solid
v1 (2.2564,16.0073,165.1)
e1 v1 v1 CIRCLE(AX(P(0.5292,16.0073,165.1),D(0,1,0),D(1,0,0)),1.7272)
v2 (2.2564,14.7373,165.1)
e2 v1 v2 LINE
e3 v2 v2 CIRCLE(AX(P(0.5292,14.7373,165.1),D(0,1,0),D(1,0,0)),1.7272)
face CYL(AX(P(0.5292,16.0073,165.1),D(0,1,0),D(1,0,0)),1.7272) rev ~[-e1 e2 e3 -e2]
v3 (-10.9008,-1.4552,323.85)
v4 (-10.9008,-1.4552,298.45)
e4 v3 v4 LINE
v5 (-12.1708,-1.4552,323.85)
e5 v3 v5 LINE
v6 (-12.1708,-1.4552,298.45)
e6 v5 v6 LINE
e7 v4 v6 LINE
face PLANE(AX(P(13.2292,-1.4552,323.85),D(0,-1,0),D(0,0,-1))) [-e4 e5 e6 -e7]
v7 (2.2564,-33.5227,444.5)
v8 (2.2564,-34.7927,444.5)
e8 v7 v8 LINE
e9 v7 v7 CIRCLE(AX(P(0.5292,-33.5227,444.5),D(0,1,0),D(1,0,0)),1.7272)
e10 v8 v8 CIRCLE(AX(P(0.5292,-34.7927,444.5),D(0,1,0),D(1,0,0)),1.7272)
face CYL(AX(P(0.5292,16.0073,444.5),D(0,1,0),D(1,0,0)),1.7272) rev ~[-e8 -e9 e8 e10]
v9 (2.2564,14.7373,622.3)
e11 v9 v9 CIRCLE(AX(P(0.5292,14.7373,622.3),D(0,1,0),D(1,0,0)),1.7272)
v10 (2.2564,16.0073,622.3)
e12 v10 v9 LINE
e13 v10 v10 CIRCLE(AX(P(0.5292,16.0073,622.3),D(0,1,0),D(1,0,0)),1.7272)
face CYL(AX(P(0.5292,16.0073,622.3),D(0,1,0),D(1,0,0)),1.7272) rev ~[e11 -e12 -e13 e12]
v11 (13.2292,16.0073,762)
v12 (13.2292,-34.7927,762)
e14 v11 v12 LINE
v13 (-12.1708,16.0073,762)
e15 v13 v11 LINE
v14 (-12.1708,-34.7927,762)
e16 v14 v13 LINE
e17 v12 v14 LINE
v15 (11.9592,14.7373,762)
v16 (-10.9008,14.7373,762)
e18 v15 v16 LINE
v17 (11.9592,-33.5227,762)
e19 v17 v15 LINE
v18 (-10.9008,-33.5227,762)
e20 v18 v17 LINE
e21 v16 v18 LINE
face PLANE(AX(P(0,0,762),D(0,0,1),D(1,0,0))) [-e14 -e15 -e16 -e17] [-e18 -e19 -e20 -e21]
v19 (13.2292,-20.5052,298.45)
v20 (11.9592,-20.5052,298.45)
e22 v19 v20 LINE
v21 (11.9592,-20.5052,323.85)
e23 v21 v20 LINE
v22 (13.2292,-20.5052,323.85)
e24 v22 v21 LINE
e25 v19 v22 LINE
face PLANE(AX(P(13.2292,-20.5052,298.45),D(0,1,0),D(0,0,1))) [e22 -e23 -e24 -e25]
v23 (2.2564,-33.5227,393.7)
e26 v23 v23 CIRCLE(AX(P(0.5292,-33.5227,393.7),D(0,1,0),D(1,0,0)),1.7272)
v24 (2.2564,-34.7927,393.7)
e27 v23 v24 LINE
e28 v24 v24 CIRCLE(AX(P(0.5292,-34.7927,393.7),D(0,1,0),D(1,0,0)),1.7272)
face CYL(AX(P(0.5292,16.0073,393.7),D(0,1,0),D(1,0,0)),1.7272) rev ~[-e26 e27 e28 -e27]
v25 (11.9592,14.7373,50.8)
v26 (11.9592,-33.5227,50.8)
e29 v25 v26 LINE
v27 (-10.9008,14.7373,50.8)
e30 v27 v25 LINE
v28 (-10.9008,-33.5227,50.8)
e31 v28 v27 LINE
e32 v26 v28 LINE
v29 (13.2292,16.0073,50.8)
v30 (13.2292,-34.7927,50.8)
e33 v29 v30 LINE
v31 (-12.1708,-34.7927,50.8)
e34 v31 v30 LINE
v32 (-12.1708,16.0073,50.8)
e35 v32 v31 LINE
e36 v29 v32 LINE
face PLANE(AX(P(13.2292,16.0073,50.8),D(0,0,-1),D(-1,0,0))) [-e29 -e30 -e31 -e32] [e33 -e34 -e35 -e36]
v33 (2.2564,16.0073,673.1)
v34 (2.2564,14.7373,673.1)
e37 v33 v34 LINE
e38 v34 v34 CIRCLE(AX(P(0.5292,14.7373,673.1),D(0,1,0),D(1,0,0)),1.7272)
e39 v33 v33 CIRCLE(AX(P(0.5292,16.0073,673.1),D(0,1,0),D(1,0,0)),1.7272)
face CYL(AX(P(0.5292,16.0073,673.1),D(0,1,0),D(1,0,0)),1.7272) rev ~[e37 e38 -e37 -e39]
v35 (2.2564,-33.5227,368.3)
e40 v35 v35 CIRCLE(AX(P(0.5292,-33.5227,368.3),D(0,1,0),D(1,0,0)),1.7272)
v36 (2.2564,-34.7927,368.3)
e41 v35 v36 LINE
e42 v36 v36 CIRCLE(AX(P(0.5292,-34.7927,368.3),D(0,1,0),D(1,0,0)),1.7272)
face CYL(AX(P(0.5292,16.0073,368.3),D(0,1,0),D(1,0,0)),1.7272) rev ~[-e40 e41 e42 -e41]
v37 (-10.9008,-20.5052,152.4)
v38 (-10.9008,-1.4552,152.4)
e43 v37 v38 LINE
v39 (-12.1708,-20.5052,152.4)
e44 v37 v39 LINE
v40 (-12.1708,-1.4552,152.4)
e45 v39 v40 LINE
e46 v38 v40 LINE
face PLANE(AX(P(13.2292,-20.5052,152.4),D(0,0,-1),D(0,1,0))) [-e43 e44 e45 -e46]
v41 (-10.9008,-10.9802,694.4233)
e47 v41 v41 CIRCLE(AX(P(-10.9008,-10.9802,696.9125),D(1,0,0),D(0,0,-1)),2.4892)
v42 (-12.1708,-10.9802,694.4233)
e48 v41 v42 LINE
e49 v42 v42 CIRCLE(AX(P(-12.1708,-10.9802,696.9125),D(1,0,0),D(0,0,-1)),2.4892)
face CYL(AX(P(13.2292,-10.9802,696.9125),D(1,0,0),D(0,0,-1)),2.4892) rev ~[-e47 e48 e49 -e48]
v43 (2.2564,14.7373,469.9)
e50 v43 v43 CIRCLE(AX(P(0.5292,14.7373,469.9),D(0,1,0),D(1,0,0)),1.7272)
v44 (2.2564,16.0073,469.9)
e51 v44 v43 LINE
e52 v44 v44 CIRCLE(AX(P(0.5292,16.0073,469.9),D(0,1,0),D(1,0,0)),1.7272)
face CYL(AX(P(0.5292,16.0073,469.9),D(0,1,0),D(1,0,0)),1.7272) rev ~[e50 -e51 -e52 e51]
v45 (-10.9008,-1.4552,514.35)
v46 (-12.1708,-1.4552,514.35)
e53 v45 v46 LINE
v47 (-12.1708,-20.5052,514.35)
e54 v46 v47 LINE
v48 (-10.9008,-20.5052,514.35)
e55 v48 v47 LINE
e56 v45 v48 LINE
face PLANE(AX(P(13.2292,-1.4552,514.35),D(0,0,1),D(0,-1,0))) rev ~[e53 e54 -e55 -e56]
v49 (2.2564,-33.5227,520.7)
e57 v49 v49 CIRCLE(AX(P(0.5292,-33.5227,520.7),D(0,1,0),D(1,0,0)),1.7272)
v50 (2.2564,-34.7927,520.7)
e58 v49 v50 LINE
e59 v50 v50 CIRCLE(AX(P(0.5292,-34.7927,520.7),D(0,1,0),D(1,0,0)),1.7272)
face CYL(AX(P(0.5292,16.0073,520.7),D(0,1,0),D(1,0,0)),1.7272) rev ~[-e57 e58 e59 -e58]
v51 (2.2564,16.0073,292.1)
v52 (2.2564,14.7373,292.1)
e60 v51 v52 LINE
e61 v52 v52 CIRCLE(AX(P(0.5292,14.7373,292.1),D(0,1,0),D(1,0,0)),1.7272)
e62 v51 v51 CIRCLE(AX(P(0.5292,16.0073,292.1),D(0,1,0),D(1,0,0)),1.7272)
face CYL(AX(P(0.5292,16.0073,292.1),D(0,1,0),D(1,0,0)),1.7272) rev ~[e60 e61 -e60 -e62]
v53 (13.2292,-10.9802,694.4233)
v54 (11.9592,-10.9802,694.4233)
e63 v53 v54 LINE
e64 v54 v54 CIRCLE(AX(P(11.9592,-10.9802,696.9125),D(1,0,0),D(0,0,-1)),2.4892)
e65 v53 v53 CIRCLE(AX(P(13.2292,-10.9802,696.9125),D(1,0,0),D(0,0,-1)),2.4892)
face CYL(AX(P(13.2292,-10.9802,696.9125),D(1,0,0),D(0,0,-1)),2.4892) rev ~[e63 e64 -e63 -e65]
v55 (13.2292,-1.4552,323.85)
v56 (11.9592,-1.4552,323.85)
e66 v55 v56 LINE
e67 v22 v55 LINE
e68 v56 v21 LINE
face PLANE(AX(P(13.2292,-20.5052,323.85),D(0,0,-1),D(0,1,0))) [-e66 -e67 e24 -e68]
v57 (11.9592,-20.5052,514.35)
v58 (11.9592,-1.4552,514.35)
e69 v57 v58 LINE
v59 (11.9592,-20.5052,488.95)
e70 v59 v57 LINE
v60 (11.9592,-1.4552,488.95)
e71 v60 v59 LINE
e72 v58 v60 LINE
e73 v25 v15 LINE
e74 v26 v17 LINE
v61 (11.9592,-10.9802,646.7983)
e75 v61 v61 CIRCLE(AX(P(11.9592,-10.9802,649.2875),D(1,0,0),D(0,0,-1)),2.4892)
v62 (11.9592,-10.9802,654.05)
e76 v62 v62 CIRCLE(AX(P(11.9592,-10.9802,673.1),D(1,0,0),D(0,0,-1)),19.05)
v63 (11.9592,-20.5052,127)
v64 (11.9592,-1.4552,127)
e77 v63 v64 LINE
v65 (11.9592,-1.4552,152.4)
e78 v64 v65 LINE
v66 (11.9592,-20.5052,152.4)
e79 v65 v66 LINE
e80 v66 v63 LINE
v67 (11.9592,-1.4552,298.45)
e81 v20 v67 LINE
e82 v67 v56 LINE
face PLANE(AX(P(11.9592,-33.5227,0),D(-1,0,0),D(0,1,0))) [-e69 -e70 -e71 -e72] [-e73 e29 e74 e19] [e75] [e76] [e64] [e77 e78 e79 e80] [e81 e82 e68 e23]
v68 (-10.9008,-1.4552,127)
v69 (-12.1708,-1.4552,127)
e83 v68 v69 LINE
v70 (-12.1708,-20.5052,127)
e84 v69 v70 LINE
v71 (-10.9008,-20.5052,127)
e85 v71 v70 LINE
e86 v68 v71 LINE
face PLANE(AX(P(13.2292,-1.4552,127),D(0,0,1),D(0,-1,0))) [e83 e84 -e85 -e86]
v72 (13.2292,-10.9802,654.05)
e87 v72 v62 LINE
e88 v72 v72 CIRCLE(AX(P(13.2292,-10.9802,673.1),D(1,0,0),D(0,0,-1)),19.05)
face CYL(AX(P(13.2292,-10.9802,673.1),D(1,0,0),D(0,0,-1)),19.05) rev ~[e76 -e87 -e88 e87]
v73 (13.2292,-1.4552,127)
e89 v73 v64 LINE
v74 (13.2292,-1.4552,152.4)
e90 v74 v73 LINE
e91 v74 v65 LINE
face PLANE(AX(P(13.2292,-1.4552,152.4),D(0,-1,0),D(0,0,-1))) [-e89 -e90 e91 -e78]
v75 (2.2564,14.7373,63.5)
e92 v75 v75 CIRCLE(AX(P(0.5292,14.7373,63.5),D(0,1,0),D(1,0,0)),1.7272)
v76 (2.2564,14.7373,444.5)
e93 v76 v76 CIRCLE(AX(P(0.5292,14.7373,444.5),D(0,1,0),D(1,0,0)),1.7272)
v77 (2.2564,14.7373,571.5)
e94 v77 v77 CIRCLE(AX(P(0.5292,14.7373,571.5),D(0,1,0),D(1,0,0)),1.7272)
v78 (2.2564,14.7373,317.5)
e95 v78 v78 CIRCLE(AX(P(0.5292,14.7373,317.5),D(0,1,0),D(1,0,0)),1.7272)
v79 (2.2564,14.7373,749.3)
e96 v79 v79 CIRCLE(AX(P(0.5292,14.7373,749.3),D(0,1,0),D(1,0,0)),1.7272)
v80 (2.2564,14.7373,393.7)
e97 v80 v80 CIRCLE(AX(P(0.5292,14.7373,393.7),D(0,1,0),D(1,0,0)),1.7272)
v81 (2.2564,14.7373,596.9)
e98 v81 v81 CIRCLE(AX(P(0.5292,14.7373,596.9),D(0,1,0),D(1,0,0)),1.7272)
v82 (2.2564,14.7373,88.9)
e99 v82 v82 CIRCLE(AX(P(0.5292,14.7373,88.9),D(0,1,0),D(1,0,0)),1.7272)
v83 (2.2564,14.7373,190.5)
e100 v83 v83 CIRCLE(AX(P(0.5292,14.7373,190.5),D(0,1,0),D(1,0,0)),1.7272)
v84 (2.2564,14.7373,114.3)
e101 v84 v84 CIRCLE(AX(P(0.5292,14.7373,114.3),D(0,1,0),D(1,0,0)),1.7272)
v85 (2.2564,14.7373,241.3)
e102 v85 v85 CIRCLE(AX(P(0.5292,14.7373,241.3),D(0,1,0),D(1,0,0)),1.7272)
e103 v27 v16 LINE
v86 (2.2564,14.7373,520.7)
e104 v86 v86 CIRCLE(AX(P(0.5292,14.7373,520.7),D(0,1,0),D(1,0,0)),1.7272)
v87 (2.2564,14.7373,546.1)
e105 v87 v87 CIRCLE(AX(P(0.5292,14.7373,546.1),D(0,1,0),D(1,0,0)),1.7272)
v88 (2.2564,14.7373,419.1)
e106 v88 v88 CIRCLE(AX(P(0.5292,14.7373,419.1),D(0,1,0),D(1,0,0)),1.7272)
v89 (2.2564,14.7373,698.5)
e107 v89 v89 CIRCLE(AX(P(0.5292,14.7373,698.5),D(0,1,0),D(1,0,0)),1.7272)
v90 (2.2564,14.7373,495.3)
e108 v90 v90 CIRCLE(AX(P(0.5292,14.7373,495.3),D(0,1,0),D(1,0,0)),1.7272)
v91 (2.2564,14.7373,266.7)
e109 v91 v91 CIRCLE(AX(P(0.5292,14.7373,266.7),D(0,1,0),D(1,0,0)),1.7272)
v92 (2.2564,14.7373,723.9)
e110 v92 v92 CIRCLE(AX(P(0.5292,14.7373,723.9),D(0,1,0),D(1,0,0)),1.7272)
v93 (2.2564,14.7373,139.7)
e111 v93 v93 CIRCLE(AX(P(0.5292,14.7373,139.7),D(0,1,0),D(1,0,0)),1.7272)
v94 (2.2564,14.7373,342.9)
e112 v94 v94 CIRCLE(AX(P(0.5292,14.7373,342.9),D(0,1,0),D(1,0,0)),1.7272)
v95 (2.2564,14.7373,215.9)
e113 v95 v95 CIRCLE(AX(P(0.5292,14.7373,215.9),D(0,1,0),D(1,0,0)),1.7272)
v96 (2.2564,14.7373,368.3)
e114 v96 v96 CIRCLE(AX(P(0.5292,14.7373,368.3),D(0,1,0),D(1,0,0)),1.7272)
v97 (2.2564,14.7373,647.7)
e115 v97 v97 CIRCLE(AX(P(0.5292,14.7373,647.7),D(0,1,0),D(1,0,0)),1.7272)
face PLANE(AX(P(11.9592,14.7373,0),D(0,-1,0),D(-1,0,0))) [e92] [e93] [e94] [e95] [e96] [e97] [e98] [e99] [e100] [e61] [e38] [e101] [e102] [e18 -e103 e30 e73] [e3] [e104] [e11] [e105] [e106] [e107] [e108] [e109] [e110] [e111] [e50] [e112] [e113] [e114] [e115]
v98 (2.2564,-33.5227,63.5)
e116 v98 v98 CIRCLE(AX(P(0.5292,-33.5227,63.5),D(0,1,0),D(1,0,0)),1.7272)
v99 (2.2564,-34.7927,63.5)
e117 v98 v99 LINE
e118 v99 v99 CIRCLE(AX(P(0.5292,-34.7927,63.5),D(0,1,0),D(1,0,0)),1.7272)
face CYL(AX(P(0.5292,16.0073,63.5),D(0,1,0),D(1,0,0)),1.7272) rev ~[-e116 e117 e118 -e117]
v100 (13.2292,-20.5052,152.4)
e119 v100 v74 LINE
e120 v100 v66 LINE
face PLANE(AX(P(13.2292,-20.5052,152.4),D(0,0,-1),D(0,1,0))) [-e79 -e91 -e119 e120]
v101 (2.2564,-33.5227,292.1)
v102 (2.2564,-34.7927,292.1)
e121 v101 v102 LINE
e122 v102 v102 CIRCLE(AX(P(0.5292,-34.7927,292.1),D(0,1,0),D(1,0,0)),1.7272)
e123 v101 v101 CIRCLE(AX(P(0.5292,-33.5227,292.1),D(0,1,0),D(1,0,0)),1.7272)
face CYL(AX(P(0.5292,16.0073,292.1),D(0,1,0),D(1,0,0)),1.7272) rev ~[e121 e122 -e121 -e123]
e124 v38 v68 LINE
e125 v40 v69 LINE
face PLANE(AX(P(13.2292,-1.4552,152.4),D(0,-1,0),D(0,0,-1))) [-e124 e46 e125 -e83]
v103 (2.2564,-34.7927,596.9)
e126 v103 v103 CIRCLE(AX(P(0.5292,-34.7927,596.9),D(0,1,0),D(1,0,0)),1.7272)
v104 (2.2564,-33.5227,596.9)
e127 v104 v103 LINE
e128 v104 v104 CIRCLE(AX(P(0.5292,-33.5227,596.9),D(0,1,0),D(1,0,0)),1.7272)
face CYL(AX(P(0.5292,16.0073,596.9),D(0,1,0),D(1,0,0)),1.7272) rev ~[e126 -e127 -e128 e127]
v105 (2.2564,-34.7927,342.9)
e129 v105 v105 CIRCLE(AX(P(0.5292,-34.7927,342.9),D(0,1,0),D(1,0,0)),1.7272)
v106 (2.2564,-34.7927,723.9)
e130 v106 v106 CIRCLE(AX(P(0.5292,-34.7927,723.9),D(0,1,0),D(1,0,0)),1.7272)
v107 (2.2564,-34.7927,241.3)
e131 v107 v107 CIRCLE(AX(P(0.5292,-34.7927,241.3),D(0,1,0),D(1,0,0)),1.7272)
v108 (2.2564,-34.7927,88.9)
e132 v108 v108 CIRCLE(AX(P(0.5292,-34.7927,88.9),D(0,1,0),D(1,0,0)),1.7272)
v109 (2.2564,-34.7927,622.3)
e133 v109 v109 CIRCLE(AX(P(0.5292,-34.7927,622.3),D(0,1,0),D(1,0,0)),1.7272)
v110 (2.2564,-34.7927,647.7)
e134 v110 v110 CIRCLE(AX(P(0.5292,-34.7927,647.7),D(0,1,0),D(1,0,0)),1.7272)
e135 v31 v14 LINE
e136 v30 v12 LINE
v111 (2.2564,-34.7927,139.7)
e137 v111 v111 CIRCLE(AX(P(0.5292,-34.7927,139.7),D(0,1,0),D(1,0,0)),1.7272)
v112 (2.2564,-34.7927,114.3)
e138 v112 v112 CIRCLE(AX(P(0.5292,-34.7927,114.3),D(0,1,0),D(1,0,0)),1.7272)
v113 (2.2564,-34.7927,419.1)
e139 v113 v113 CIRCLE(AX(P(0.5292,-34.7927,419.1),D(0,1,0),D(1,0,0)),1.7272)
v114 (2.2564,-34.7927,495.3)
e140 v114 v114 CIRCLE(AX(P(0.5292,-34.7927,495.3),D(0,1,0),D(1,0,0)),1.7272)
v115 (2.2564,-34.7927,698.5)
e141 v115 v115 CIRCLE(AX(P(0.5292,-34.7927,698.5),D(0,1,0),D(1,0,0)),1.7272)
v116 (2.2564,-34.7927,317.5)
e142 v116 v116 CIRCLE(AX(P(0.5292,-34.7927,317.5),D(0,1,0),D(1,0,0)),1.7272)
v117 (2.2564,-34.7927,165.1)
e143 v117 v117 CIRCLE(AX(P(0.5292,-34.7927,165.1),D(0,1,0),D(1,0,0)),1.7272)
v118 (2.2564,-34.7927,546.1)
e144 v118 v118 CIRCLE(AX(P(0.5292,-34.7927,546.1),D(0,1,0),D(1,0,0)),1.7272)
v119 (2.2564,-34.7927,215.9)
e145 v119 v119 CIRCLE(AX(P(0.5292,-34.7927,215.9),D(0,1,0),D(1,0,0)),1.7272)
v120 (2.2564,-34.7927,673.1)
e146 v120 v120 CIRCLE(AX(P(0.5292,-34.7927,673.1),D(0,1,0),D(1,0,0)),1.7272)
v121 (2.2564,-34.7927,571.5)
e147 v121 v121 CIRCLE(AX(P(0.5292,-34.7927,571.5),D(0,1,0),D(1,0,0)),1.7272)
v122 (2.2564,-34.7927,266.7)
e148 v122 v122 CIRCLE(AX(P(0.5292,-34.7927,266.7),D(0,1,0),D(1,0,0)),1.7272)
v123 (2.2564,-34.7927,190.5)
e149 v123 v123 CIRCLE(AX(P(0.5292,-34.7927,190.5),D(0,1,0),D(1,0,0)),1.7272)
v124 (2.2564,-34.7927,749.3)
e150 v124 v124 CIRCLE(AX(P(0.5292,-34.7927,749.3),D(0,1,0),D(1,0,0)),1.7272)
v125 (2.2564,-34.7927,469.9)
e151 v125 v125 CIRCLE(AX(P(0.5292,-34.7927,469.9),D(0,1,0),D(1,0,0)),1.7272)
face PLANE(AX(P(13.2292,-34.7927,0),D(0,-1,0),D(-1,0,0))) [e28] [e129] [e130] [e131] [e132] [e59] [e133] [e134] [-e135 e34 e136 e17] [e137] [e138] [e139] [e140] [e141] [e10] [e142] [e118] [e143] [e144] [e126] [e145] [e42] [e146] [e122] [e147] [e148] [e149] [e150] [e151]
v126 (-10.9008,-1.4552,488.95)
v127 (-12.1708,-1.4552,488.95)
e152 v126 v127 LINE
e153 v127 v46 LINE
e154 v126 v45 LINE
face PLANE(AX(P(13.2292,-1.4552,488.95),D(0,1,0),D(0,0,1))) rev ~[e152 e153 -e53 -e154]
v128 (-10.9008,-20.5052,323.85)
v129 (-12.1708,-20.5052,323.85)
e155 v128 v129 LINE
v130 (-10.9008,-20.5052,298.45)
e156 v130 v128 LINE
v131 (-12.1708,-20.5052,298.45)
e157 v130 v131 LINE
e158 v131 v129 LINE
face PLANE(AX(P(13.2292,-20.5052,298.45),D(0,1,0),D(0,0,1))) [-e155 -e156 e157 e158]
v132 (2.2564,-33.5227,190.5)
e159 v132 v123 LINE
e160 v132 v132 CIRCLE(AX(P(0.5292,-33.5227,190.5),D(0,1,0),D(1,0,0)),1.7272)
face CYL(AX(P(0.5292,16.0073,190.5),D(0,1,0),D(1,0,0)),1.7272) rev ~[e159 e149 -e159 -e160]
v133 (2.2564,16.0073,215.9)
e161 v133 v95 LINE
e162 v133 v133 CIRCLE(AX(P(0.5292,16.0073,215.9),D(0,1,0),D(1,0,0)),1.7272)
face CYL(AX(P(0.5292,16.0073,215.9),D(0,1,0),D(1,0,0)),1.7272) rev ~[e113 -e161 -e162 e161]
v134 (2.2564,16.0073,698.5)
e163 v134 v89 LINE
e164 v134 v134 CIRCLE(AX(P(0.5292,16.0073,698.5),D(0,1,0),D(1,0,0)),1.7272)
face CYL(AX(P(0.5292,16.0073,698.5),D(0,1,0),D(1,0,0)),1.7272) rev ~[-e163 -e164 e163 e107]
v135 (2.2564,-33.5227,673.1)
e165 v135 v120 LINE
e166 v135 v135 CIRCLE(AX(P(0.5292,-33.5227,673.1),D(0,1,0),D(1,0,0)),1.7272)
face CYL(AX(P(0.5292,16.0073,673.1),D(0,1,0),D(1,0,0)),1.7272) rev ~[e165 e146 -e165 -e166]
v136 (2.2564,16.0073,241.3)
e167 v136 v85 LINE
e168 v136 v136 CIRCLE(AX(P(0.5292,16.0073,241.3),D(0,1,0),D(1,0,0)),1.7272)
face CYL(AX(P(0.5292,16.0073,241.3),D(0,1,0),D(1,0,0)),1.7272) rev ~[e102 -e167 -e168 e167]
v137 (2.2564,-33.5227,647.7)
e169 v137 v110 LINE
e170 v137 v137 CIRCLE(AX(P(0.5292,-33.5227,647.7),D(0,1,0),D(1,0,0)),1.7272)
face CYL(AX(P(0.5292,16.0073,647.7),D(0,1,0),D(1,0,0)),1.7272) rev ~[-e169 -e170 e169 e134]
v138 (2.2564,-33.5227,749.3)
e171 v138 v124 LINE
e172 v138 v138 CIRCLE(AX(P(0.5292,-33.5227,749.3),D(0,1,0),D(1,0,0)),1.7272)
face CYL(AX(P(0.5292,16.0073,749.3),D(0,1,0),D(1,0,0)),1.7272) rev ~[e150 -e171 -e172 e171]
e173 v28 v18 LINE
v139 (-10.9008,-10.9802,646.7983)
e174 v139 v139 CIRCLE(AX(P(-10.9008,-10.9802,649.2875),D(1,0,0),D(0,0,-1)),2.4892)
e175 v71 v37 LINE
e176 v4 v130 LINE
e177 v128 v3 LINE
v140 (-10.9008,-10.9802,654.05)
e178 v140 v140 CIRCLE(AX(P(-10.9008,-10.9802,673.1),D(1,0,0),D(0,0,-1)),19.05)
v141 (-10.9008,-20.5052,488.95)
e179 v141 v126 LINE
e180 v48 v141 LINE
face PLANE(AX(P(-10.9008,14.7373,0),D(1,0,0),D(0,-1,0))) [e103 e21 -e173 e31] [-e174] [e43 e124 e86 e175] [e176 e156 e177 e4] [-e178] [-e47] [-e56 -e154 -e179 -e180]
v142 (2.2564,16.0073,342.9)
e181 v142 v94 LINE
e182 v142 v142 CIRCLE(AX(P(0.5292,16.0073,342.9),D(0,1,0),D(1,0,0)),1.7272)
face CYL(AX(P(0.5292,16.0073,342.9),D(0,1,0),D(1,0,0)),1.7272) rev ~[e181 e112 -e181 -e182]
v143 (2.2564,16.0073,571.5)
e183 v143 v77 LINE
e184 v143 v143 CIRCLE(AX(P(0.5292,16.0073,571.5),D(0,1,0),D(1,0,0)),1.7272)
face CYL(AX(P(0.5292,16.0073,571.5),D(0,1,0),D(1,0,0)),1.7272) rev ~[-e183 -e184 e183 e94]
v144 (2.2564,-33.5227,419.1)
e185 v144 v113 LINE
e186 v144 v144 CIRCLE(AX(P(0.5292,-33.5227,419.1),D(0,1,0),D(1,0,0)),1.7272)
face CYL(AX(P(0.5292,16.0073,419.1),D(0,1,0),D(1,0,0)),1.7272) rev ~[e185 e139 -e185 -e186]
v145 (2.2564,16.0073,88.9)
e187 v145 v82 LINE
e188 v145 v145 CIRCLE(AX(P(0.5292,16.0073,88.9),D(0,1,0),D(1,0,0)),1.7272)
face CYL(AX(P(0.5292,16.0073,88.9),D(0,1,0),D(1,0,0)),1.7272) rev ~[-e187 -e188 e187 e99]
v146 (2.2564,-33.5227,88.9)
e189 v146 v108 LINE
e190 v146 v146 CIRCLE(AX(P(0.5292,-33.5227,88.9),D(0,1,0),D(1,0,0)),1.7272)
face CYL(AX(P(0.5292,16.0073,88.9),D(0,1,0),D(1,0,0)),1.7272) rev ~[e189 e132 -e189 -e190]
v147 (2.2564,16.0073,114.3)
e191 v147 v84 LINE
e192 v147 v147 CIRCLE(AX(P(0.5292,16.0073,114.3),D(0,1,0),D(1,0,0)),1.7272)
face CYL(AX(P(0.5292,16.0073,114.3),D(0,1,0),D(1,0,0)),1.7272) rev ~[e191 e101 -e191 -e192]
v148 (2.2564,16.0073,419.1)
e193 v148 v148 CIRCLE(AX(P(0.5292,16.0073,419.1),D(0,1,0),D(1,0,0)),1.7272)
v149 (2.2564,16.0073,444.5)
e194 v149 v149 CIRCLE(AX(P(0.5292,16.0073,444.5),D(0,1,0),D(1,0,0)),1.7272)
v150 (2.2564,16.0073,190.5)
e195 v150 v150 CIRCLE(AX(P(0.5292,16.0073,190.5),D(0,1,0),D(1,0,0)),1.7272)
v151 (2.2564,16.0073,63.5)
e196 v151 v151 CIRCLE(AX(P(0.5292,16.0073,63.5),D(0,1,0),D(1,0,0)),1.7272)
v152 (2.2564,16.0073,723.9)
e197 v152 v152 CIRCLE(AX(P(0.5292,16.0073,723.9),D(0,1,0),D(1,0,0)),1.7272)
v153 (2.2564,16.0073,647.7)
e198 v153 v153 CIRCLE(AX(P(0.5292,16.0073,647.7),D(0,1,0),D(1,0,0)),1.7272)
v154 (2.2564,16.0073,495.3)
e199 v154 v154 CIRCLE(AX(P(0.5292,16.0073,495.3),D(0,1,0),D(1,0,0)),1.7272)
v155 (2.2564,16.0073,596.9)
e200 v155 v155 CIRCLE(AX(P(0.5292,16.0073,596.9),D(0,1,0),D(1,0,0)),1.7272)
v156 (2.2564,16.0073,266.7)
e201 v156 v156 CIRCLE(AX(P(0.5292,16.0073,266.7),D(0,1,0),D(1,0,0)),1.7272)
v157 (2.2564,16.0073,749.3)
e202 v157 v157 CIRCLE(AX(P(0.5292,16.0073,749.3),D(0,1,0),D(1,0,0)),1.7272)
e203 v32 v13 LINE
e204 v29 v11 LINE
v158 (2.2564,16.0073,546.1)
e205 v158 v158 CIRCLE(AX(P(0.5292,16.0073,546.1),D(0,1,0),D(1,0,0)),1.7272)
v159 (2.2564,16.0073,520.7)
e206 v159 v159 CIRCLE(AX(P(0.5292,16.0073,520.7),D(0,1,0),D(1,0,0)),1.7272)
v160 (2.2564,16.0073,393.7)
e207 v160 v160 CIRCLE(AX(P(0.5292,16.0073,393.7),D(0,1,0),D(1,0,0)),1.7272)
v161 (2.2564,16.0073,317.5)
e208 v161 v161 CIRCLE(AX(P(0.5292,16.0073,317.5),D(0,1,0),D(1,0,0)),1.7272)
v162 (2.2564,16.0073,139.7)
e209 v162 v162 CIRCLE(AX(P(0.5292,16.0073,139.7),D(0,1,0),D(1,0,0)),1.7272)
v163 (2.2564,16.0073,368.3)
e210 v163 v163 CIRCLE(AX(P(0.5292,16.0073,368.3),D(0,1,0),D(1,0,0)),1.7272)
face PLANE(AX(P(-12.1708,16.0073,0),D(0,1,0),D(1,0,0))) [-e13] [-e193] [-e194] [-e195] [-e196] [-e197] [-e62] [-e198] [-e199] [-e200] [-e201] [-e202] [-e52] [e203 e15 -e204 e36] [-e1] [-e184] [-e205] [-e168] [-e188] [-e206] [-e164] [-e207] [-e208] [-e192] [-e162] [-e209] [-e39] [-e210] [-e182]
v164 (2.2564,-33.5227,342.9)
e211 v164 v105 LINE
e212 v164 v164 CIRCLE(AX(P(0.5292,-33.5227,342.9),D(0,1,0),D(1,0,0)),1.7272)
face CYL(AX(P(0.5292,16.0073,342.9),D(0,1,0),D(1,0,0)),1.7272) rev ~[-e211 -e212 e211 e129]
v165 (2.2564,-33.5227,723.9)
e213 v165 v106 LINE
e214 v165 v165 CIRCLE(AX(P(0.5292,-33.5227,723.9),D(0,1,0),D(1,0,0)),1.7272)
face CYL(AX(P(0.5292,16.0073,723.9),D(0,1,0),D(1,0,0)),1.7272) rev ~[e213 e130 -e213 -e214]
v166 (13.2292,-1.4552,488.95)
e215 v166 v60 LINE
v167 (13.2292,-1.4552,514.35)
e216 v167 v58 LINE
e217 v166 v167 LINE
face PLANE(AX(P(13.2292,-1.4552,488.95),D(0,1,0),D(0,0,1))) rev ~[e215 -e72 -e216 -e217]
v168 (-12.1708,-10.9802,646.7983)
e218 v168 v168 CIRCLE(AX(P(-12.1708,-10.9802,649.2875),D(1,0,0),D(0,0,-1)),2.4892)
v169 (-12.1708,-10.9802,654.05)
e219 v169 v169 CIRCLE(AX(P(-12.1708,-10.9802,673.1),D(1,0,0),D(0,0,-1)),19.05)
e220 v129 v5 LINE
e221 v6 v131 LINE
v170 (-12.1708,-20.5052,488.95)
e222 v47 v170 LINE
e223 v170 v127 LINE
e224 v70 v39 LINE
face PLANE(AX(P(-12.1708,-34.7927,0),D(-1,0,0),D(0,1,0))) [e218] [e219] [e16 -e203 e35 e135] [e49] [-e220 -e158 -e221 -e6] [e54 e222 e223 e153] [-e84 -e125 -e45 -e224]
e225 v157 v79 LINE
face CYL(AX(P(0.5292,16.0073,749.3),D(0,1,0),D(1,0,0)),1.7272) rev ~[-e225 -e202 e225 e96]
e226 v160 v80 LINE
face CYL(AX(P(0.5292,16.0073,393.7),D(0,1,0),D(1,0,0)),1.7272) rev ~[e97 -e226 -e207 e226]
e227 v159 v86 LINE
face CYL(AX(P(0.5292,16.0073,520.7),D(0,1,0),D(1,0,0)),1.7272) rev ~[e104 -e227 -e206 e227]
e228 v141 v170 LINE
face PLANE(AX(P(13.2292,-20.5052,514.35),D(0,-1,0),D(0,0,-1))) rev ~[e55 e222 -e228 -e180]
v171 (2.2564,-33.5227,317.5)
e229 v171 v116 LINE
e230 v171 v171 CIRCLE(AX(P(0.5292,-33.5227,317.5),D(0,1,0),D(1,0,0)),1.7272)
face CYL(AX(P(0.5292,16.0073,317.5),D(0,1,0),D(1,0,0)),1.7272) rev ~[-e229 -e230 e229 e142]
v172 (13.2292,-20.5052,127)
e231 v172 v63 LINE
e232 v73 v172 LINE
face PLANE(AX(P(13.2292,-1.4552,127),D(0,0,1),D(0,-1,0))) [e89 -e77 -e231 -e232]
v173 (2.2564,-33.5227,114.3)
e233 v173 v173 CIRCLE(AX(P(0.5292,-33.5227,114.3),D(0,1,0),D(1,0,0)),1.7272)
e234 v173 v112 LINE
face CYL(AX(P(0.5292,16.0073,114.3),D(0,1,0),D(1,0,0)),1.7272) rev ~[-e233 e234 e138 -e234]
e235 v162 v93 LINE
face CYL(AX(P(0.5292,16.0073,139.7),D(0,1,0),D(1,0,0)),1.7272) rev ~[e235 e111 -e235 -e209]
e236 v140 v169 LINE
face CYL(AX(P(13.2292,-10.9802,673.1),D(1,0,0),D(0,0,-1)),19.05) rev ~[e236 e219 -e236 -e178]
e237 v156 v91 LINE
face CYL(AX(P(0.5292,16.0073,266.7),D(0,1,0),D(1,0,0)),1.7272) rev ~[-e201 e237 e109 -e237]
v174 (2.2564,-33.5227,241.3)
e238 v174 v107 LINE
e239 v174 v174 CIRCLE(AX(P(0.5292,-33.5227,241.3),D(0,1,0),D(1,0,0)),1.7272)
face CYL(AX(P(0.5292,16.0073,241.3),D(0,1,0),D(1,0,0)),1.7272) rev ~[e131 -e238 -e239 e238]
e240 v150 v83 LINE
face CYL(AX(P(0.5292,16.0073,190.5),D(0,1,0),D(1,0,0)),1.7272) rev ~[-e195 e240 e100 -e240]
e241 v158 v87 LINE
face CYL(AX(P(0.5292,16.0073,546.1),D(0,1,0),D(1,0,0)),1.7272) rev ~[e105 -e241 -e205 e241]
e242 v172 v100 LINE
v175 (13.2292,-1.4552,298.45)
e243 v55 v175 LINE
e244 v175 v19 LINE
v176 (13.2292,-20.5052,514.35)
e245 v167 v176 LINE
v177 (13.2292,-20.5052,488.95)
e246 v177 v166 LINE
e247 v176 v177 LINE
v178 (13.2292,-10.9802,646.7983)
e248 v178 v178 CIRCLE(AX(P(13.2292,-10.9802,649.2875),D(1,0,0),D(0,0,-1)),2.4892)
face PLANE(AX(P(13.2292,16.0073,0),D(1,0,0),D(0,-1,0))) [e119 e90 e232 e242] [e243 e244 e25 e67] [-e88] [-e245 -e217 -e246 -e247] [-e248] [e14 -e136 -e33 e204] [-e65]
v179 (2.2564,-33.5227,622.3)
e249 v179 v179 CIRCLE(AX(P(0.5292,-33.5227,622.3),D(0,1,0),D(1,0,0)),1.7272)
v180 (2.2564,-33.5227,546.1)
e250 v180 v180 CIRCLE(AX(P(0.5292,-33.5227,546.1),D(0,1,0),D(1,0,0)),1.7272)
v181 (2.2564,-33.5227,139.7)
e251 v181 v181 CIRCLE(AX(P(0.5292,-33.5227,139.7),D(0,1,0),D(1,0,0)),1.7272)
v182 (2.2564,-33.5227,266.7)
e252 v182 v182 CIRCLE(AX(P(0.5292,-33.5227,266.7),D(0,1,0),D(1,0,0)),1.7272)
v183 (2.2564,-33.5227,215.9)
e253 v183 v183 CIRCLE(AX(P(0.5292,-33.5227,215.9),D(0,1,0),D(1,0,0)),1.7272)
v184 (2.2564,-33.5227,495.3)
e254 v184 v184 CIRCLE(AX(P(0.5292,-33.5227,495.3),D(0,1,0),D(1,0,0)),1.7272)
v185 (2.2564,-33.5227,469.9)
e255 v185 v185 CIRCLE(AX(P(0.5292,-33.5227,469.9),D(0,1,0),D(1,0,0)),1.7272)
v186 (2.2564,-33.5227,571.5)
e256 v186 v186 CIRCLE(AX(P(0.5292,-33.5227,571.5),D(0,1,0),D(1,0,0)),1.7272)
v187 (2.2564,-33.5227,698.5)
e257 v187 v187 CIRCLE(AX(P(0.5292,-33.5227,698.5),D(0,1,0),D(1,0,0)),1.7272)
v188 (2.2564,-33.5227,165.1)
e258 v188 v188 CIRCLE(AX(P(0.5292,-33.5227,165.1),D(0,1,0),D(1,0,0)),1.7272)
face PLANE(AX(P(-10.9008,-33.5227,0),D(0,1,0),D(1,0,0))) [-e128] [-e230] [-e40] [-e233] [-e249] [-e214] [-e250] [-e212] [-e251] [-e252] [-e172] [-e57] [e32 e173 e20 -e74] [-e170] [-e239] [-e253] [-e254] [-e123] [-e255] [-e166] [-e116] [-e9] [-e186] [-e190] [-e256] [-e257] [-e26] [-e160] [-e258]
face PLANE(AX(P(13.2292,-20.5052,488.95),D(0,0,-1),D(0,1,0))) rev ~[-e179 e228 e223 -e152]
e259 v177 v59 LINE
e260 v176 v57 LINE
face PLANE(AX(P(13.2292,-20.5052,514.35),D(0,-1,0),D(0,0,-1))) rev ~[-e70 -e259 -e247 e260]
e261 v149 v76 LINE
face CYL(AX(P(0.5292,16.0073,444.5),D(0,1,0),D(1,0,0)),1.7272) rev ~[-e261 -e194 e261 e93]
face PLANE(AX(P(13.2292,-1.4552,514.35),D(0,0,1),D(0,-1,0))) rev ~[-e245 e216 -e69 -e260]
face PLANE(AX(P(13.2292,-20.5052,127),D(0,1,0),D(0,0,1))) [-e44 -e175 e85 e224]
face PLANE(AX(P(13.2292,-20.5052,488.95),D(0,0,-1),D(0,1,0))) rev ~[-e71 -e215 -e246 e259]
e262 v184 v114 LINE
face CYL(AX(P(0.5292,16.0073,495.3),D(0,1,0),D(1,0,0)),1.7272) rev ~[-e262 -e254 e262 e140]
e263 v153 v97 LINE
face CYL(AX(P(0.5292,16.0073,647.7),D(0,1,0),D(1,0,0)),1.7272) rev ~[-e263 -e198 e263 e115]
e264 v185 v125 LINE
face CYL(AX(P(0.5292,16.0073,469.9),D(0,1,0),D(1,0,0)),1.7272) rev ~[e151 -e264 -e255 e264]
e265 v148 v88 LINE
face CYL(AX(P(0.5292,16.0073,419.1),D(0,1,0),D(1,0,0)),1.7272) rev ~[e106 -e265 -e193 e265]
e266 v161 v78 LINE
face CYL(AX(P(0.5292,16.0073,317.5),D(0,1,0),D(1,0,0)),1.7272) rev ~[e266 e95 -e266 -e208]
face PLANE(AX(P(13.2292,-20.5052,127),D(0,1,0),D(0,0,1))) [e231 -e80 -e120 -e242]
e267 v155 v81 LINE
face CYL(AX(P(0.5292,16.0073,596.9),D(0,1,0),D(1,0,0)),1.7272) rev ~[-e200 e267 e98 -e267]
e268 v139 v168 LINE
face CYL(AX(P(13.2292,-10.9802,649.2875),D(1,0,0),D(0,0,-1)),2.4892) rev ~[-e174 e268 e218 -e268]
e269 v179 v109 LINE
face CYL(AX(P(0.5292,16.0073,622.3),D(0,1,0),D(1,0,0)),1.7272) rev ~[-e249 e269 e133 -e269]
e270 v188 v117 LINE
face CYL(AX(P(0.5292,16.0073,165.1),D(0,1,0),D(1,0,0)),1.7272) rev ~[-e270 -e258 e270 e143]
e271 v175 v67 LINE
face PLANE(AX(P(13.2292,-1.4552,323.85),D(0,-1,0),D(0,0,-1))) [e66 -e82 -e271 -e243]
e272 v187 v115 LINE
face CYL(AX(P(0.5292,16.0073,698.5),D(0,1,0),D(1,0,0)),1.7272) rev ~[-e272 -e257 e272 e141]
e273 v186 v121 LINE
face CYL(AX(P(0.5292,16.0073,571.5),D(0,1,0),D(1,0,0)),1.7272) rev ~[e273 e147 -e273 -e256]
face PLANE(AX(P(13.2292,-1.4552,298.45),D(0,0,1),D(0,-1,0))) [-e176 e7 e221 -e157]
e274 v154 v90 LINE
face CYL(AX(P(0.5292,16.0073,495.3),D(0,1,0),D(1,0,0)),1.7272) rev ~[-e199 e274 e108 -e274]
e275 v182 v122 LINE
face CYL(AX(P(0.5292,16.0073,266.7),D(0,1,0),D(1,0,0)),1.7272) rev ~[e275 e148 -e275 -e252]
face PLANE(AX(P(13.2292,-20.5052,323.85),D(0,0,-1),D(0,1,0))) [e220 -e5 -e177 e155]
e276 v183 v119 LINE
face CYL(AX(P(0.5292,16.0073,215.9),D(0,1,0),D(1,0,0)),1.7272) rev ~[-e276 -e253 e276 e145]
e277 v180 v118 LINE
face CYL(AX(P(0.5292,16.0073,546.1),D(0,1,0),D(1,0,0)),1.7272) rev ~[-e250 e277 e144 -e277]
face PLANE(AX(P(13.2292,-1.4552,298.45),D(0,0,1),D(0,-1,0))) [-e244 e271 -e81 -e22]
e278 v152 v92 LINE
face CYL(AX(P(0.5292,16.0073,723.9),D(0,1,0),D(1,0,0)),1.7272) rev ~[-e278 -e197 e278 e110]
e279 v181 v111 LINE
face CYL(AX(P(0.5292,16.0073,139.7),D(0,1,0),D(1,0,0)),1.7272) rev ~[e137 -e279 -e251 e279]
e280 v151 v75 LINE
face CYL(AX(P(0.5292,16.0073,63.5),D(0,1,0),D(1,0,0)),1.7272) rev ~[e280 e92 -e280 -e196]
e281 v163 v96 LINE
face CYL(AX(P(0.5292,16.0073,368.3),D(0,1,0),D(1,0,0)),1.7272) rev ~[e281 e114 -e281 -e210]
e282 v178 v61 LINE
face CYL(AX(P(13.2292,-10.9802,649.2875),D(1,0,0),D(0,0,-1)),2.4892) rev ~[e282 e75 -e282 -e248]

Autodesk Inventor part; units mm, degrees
ref_plane "YZ Plane" through (0, 0, 0) normal (1, 0, 0) x (0, 1, 0)
ref_plane "XZ Plane" through (0, 0, 0) normal (0, 1, 0) x (-1, 0, 0)
ref_plane "XY Plane" through (0, 0, 0) normal (0, 0, 1) x (1, 0, 0)
sketch "Sketch1" plane through (0, 0, 0) normal (0, 0, 1) x (1, 0, 0)
  line L0 (-12.1708, 16.0073) -> (13.2292, 16.0073)
  line L1 (13.2292, 16.0073) -> (13.2292, -34.7927)
  line L2 (13.2292, -34.7927) -> (-12.1708, -34.7927)
  line L3 (-12.1708, -34.7927) -> (-12.1708, 16.0073)
  line L4 (11.9592, 14.7373) -> (-10.9008, 14.7373)
  line L5 (-10.9008, 14.7373) -> (-10.9008, -33.5227)
  line L6 (-10.9008, -33.5227) -> (11.9592, -33.5227)
  line L7 (11.9592, -33.5227) -> (11.9592, 14.7373)
  point P0 (0, 0)
  dimension "d0" = 25.4
  dimension "d1" = 50.8
  dimension "d2" = 1.27
extrude "Extrusion1" add sketch "Sketch1" along normal blind 762
sketch "Sketch2" plane through (-12.1708, 16.0073, 0) normal (0, 1, 0) x (1, 0, 0)
  circle A0 centre (12.7, -12.7) radius 1.7272
  line L0 (25.4, 0) -> (0, 0) projected
  line L1 (0, 0) -> (0, -762) projected
  point P0 (12.1708, 0)
  dimension "d5" = 3.4544
  dimension "d6" = 12.7
  dimension "d7" = 12.7
extrude "Extrusion2" cut sketch "Sketch2" against normal through all
pattern_linear "Rectangular Pattern1" count 30 spacing 25.4 along (0, 0, 1) of "Extrusion2"
sketch "Sketch3" plane through (-12.1708, 16.0073, 0) normal (0, 1, 0) x (1, 0, 0)
  line L0 (0, 0) -> (25.4, 0)
  line L1 (25.4, 0) -> (25.4, -50.8)
  line L2 (25.4, -50.8) -> (0, -50.8)
  line L3 (0, -50.8) -> (0, 0)
  line L4 (25.4, 0) -> (0, 0) projected
  line L5 (0, 0) -> (0, -762) projected
  point P0 (12.1708, 0)
  dimension "d13" = 25.4
  dimension "d14" = 50.8
extrude "Extrusion3" cut sketch "Sketch3" against normal through all
sketch "Sketch4" plane through (13.2292, -34.7927, 762) normal (1, 0, 0) x (0, 0, -1)
  line L0 (-23.8972, 23.8125) -> (751.785, 23.8125) construction
  line L1 (711.2, 50.8) -> (0, 50.8) projected
  line L2 (266.7, 71.9333) -> (266.7, -75.2373) construction
  line L3 (0, 0) -> (0, 50.8) projected
  circle A0 centre (260.35, 23.8125) radius 76.2 construction
  circle A1 centre (450.85, 23.8125) radius 76.2 construction
  line L4 (-23.4814, 26.9875) -> (752.2009, 26.9875) construction
  circle A2 centre (88.9, 23.8125) radius 76.2 construction
  circle A3 centre (622.3, 23.8125) radius 76.2 construction
  line L5 (711.2, 0) -> (711.2, 50.8) projected
  line L6 (438.15, 33.3375) -> (463.55, 33.3375)
  line L7 (463.55, 33.3375) -> (463.55, 14.2875)
  line L8 (463.55, 14.2875) -> (438.15, 14.2875)
  line L9 (438.15, 14.2875) -> (438.15, 33.3375)
  line L10 (438.15, 33.3375) -> (463.55, 14.2875) construction
  line L11 (463.55, 33.3375) -> (438.15, 14.2875) construction
  line L12 (609.6, 33.3375) -> (635, 33.3375)
  line L13 (635, 33.3375) -> (635, 14.2875)
  line L14 (635, 14.2875) -> (609.6, 14.2875)
  line L15 (609.6, 14.2875) -> (609.6, 33.3375)
  line L16 (609.6, 33.3375) -> (635, 14.2875) construction
  line L17 (635, 33.3375) -> (609.6, 14.2875) construction
  line L18 (247.65, 14.2875) -> (273.05, 14.2875)
  line L19 (273.05, 14.2875) -> (273.05, 33.3375)
  line L20 (273.05, 33.3375) -> (247.65, 33.3375)
  line L21 (247.65, 33.3375) -> (247.65, 14.2875)
  line L22 (247.65, 14.2875) -> (273.05, 33.3375) construction
  line L23 (273.05, 14.2875) -> (247.65, 33.3375) construction
  circle A4 centre (88.9, 23.8125) radius 19.05
  circle A5 centre (65.0875, 23.8125) radius 2.4892
  circle A6 centre (112.7125, 23.8125) radius 2.4892
  circle A7 centre (88.9, 23.8125) radius 23.8125 construction
  point P0 (762, 34.7927)
  point P1 (260.35, 23.8125)
  dimension "d18" = 26.9875
  dimension "d25" = 152.4
  dimension "d26" = 3.175
  dimension "d29" = 88.9
  dimension "d34" = 25.4
  dimension "d35" = 19.05
  dimension "d36" = 190.5
  dimension "d37" = 171.45
  dimension "d39" = 47.625
  dimension "d40" = 38.1
  dimension "d41" = 4.9784
  dimension "d42" = 171.45
extrude "Extrusion4" cut sketch "Sketch4" against normal blind 25.4
properties part number "VerseFrame 28in Drive"
